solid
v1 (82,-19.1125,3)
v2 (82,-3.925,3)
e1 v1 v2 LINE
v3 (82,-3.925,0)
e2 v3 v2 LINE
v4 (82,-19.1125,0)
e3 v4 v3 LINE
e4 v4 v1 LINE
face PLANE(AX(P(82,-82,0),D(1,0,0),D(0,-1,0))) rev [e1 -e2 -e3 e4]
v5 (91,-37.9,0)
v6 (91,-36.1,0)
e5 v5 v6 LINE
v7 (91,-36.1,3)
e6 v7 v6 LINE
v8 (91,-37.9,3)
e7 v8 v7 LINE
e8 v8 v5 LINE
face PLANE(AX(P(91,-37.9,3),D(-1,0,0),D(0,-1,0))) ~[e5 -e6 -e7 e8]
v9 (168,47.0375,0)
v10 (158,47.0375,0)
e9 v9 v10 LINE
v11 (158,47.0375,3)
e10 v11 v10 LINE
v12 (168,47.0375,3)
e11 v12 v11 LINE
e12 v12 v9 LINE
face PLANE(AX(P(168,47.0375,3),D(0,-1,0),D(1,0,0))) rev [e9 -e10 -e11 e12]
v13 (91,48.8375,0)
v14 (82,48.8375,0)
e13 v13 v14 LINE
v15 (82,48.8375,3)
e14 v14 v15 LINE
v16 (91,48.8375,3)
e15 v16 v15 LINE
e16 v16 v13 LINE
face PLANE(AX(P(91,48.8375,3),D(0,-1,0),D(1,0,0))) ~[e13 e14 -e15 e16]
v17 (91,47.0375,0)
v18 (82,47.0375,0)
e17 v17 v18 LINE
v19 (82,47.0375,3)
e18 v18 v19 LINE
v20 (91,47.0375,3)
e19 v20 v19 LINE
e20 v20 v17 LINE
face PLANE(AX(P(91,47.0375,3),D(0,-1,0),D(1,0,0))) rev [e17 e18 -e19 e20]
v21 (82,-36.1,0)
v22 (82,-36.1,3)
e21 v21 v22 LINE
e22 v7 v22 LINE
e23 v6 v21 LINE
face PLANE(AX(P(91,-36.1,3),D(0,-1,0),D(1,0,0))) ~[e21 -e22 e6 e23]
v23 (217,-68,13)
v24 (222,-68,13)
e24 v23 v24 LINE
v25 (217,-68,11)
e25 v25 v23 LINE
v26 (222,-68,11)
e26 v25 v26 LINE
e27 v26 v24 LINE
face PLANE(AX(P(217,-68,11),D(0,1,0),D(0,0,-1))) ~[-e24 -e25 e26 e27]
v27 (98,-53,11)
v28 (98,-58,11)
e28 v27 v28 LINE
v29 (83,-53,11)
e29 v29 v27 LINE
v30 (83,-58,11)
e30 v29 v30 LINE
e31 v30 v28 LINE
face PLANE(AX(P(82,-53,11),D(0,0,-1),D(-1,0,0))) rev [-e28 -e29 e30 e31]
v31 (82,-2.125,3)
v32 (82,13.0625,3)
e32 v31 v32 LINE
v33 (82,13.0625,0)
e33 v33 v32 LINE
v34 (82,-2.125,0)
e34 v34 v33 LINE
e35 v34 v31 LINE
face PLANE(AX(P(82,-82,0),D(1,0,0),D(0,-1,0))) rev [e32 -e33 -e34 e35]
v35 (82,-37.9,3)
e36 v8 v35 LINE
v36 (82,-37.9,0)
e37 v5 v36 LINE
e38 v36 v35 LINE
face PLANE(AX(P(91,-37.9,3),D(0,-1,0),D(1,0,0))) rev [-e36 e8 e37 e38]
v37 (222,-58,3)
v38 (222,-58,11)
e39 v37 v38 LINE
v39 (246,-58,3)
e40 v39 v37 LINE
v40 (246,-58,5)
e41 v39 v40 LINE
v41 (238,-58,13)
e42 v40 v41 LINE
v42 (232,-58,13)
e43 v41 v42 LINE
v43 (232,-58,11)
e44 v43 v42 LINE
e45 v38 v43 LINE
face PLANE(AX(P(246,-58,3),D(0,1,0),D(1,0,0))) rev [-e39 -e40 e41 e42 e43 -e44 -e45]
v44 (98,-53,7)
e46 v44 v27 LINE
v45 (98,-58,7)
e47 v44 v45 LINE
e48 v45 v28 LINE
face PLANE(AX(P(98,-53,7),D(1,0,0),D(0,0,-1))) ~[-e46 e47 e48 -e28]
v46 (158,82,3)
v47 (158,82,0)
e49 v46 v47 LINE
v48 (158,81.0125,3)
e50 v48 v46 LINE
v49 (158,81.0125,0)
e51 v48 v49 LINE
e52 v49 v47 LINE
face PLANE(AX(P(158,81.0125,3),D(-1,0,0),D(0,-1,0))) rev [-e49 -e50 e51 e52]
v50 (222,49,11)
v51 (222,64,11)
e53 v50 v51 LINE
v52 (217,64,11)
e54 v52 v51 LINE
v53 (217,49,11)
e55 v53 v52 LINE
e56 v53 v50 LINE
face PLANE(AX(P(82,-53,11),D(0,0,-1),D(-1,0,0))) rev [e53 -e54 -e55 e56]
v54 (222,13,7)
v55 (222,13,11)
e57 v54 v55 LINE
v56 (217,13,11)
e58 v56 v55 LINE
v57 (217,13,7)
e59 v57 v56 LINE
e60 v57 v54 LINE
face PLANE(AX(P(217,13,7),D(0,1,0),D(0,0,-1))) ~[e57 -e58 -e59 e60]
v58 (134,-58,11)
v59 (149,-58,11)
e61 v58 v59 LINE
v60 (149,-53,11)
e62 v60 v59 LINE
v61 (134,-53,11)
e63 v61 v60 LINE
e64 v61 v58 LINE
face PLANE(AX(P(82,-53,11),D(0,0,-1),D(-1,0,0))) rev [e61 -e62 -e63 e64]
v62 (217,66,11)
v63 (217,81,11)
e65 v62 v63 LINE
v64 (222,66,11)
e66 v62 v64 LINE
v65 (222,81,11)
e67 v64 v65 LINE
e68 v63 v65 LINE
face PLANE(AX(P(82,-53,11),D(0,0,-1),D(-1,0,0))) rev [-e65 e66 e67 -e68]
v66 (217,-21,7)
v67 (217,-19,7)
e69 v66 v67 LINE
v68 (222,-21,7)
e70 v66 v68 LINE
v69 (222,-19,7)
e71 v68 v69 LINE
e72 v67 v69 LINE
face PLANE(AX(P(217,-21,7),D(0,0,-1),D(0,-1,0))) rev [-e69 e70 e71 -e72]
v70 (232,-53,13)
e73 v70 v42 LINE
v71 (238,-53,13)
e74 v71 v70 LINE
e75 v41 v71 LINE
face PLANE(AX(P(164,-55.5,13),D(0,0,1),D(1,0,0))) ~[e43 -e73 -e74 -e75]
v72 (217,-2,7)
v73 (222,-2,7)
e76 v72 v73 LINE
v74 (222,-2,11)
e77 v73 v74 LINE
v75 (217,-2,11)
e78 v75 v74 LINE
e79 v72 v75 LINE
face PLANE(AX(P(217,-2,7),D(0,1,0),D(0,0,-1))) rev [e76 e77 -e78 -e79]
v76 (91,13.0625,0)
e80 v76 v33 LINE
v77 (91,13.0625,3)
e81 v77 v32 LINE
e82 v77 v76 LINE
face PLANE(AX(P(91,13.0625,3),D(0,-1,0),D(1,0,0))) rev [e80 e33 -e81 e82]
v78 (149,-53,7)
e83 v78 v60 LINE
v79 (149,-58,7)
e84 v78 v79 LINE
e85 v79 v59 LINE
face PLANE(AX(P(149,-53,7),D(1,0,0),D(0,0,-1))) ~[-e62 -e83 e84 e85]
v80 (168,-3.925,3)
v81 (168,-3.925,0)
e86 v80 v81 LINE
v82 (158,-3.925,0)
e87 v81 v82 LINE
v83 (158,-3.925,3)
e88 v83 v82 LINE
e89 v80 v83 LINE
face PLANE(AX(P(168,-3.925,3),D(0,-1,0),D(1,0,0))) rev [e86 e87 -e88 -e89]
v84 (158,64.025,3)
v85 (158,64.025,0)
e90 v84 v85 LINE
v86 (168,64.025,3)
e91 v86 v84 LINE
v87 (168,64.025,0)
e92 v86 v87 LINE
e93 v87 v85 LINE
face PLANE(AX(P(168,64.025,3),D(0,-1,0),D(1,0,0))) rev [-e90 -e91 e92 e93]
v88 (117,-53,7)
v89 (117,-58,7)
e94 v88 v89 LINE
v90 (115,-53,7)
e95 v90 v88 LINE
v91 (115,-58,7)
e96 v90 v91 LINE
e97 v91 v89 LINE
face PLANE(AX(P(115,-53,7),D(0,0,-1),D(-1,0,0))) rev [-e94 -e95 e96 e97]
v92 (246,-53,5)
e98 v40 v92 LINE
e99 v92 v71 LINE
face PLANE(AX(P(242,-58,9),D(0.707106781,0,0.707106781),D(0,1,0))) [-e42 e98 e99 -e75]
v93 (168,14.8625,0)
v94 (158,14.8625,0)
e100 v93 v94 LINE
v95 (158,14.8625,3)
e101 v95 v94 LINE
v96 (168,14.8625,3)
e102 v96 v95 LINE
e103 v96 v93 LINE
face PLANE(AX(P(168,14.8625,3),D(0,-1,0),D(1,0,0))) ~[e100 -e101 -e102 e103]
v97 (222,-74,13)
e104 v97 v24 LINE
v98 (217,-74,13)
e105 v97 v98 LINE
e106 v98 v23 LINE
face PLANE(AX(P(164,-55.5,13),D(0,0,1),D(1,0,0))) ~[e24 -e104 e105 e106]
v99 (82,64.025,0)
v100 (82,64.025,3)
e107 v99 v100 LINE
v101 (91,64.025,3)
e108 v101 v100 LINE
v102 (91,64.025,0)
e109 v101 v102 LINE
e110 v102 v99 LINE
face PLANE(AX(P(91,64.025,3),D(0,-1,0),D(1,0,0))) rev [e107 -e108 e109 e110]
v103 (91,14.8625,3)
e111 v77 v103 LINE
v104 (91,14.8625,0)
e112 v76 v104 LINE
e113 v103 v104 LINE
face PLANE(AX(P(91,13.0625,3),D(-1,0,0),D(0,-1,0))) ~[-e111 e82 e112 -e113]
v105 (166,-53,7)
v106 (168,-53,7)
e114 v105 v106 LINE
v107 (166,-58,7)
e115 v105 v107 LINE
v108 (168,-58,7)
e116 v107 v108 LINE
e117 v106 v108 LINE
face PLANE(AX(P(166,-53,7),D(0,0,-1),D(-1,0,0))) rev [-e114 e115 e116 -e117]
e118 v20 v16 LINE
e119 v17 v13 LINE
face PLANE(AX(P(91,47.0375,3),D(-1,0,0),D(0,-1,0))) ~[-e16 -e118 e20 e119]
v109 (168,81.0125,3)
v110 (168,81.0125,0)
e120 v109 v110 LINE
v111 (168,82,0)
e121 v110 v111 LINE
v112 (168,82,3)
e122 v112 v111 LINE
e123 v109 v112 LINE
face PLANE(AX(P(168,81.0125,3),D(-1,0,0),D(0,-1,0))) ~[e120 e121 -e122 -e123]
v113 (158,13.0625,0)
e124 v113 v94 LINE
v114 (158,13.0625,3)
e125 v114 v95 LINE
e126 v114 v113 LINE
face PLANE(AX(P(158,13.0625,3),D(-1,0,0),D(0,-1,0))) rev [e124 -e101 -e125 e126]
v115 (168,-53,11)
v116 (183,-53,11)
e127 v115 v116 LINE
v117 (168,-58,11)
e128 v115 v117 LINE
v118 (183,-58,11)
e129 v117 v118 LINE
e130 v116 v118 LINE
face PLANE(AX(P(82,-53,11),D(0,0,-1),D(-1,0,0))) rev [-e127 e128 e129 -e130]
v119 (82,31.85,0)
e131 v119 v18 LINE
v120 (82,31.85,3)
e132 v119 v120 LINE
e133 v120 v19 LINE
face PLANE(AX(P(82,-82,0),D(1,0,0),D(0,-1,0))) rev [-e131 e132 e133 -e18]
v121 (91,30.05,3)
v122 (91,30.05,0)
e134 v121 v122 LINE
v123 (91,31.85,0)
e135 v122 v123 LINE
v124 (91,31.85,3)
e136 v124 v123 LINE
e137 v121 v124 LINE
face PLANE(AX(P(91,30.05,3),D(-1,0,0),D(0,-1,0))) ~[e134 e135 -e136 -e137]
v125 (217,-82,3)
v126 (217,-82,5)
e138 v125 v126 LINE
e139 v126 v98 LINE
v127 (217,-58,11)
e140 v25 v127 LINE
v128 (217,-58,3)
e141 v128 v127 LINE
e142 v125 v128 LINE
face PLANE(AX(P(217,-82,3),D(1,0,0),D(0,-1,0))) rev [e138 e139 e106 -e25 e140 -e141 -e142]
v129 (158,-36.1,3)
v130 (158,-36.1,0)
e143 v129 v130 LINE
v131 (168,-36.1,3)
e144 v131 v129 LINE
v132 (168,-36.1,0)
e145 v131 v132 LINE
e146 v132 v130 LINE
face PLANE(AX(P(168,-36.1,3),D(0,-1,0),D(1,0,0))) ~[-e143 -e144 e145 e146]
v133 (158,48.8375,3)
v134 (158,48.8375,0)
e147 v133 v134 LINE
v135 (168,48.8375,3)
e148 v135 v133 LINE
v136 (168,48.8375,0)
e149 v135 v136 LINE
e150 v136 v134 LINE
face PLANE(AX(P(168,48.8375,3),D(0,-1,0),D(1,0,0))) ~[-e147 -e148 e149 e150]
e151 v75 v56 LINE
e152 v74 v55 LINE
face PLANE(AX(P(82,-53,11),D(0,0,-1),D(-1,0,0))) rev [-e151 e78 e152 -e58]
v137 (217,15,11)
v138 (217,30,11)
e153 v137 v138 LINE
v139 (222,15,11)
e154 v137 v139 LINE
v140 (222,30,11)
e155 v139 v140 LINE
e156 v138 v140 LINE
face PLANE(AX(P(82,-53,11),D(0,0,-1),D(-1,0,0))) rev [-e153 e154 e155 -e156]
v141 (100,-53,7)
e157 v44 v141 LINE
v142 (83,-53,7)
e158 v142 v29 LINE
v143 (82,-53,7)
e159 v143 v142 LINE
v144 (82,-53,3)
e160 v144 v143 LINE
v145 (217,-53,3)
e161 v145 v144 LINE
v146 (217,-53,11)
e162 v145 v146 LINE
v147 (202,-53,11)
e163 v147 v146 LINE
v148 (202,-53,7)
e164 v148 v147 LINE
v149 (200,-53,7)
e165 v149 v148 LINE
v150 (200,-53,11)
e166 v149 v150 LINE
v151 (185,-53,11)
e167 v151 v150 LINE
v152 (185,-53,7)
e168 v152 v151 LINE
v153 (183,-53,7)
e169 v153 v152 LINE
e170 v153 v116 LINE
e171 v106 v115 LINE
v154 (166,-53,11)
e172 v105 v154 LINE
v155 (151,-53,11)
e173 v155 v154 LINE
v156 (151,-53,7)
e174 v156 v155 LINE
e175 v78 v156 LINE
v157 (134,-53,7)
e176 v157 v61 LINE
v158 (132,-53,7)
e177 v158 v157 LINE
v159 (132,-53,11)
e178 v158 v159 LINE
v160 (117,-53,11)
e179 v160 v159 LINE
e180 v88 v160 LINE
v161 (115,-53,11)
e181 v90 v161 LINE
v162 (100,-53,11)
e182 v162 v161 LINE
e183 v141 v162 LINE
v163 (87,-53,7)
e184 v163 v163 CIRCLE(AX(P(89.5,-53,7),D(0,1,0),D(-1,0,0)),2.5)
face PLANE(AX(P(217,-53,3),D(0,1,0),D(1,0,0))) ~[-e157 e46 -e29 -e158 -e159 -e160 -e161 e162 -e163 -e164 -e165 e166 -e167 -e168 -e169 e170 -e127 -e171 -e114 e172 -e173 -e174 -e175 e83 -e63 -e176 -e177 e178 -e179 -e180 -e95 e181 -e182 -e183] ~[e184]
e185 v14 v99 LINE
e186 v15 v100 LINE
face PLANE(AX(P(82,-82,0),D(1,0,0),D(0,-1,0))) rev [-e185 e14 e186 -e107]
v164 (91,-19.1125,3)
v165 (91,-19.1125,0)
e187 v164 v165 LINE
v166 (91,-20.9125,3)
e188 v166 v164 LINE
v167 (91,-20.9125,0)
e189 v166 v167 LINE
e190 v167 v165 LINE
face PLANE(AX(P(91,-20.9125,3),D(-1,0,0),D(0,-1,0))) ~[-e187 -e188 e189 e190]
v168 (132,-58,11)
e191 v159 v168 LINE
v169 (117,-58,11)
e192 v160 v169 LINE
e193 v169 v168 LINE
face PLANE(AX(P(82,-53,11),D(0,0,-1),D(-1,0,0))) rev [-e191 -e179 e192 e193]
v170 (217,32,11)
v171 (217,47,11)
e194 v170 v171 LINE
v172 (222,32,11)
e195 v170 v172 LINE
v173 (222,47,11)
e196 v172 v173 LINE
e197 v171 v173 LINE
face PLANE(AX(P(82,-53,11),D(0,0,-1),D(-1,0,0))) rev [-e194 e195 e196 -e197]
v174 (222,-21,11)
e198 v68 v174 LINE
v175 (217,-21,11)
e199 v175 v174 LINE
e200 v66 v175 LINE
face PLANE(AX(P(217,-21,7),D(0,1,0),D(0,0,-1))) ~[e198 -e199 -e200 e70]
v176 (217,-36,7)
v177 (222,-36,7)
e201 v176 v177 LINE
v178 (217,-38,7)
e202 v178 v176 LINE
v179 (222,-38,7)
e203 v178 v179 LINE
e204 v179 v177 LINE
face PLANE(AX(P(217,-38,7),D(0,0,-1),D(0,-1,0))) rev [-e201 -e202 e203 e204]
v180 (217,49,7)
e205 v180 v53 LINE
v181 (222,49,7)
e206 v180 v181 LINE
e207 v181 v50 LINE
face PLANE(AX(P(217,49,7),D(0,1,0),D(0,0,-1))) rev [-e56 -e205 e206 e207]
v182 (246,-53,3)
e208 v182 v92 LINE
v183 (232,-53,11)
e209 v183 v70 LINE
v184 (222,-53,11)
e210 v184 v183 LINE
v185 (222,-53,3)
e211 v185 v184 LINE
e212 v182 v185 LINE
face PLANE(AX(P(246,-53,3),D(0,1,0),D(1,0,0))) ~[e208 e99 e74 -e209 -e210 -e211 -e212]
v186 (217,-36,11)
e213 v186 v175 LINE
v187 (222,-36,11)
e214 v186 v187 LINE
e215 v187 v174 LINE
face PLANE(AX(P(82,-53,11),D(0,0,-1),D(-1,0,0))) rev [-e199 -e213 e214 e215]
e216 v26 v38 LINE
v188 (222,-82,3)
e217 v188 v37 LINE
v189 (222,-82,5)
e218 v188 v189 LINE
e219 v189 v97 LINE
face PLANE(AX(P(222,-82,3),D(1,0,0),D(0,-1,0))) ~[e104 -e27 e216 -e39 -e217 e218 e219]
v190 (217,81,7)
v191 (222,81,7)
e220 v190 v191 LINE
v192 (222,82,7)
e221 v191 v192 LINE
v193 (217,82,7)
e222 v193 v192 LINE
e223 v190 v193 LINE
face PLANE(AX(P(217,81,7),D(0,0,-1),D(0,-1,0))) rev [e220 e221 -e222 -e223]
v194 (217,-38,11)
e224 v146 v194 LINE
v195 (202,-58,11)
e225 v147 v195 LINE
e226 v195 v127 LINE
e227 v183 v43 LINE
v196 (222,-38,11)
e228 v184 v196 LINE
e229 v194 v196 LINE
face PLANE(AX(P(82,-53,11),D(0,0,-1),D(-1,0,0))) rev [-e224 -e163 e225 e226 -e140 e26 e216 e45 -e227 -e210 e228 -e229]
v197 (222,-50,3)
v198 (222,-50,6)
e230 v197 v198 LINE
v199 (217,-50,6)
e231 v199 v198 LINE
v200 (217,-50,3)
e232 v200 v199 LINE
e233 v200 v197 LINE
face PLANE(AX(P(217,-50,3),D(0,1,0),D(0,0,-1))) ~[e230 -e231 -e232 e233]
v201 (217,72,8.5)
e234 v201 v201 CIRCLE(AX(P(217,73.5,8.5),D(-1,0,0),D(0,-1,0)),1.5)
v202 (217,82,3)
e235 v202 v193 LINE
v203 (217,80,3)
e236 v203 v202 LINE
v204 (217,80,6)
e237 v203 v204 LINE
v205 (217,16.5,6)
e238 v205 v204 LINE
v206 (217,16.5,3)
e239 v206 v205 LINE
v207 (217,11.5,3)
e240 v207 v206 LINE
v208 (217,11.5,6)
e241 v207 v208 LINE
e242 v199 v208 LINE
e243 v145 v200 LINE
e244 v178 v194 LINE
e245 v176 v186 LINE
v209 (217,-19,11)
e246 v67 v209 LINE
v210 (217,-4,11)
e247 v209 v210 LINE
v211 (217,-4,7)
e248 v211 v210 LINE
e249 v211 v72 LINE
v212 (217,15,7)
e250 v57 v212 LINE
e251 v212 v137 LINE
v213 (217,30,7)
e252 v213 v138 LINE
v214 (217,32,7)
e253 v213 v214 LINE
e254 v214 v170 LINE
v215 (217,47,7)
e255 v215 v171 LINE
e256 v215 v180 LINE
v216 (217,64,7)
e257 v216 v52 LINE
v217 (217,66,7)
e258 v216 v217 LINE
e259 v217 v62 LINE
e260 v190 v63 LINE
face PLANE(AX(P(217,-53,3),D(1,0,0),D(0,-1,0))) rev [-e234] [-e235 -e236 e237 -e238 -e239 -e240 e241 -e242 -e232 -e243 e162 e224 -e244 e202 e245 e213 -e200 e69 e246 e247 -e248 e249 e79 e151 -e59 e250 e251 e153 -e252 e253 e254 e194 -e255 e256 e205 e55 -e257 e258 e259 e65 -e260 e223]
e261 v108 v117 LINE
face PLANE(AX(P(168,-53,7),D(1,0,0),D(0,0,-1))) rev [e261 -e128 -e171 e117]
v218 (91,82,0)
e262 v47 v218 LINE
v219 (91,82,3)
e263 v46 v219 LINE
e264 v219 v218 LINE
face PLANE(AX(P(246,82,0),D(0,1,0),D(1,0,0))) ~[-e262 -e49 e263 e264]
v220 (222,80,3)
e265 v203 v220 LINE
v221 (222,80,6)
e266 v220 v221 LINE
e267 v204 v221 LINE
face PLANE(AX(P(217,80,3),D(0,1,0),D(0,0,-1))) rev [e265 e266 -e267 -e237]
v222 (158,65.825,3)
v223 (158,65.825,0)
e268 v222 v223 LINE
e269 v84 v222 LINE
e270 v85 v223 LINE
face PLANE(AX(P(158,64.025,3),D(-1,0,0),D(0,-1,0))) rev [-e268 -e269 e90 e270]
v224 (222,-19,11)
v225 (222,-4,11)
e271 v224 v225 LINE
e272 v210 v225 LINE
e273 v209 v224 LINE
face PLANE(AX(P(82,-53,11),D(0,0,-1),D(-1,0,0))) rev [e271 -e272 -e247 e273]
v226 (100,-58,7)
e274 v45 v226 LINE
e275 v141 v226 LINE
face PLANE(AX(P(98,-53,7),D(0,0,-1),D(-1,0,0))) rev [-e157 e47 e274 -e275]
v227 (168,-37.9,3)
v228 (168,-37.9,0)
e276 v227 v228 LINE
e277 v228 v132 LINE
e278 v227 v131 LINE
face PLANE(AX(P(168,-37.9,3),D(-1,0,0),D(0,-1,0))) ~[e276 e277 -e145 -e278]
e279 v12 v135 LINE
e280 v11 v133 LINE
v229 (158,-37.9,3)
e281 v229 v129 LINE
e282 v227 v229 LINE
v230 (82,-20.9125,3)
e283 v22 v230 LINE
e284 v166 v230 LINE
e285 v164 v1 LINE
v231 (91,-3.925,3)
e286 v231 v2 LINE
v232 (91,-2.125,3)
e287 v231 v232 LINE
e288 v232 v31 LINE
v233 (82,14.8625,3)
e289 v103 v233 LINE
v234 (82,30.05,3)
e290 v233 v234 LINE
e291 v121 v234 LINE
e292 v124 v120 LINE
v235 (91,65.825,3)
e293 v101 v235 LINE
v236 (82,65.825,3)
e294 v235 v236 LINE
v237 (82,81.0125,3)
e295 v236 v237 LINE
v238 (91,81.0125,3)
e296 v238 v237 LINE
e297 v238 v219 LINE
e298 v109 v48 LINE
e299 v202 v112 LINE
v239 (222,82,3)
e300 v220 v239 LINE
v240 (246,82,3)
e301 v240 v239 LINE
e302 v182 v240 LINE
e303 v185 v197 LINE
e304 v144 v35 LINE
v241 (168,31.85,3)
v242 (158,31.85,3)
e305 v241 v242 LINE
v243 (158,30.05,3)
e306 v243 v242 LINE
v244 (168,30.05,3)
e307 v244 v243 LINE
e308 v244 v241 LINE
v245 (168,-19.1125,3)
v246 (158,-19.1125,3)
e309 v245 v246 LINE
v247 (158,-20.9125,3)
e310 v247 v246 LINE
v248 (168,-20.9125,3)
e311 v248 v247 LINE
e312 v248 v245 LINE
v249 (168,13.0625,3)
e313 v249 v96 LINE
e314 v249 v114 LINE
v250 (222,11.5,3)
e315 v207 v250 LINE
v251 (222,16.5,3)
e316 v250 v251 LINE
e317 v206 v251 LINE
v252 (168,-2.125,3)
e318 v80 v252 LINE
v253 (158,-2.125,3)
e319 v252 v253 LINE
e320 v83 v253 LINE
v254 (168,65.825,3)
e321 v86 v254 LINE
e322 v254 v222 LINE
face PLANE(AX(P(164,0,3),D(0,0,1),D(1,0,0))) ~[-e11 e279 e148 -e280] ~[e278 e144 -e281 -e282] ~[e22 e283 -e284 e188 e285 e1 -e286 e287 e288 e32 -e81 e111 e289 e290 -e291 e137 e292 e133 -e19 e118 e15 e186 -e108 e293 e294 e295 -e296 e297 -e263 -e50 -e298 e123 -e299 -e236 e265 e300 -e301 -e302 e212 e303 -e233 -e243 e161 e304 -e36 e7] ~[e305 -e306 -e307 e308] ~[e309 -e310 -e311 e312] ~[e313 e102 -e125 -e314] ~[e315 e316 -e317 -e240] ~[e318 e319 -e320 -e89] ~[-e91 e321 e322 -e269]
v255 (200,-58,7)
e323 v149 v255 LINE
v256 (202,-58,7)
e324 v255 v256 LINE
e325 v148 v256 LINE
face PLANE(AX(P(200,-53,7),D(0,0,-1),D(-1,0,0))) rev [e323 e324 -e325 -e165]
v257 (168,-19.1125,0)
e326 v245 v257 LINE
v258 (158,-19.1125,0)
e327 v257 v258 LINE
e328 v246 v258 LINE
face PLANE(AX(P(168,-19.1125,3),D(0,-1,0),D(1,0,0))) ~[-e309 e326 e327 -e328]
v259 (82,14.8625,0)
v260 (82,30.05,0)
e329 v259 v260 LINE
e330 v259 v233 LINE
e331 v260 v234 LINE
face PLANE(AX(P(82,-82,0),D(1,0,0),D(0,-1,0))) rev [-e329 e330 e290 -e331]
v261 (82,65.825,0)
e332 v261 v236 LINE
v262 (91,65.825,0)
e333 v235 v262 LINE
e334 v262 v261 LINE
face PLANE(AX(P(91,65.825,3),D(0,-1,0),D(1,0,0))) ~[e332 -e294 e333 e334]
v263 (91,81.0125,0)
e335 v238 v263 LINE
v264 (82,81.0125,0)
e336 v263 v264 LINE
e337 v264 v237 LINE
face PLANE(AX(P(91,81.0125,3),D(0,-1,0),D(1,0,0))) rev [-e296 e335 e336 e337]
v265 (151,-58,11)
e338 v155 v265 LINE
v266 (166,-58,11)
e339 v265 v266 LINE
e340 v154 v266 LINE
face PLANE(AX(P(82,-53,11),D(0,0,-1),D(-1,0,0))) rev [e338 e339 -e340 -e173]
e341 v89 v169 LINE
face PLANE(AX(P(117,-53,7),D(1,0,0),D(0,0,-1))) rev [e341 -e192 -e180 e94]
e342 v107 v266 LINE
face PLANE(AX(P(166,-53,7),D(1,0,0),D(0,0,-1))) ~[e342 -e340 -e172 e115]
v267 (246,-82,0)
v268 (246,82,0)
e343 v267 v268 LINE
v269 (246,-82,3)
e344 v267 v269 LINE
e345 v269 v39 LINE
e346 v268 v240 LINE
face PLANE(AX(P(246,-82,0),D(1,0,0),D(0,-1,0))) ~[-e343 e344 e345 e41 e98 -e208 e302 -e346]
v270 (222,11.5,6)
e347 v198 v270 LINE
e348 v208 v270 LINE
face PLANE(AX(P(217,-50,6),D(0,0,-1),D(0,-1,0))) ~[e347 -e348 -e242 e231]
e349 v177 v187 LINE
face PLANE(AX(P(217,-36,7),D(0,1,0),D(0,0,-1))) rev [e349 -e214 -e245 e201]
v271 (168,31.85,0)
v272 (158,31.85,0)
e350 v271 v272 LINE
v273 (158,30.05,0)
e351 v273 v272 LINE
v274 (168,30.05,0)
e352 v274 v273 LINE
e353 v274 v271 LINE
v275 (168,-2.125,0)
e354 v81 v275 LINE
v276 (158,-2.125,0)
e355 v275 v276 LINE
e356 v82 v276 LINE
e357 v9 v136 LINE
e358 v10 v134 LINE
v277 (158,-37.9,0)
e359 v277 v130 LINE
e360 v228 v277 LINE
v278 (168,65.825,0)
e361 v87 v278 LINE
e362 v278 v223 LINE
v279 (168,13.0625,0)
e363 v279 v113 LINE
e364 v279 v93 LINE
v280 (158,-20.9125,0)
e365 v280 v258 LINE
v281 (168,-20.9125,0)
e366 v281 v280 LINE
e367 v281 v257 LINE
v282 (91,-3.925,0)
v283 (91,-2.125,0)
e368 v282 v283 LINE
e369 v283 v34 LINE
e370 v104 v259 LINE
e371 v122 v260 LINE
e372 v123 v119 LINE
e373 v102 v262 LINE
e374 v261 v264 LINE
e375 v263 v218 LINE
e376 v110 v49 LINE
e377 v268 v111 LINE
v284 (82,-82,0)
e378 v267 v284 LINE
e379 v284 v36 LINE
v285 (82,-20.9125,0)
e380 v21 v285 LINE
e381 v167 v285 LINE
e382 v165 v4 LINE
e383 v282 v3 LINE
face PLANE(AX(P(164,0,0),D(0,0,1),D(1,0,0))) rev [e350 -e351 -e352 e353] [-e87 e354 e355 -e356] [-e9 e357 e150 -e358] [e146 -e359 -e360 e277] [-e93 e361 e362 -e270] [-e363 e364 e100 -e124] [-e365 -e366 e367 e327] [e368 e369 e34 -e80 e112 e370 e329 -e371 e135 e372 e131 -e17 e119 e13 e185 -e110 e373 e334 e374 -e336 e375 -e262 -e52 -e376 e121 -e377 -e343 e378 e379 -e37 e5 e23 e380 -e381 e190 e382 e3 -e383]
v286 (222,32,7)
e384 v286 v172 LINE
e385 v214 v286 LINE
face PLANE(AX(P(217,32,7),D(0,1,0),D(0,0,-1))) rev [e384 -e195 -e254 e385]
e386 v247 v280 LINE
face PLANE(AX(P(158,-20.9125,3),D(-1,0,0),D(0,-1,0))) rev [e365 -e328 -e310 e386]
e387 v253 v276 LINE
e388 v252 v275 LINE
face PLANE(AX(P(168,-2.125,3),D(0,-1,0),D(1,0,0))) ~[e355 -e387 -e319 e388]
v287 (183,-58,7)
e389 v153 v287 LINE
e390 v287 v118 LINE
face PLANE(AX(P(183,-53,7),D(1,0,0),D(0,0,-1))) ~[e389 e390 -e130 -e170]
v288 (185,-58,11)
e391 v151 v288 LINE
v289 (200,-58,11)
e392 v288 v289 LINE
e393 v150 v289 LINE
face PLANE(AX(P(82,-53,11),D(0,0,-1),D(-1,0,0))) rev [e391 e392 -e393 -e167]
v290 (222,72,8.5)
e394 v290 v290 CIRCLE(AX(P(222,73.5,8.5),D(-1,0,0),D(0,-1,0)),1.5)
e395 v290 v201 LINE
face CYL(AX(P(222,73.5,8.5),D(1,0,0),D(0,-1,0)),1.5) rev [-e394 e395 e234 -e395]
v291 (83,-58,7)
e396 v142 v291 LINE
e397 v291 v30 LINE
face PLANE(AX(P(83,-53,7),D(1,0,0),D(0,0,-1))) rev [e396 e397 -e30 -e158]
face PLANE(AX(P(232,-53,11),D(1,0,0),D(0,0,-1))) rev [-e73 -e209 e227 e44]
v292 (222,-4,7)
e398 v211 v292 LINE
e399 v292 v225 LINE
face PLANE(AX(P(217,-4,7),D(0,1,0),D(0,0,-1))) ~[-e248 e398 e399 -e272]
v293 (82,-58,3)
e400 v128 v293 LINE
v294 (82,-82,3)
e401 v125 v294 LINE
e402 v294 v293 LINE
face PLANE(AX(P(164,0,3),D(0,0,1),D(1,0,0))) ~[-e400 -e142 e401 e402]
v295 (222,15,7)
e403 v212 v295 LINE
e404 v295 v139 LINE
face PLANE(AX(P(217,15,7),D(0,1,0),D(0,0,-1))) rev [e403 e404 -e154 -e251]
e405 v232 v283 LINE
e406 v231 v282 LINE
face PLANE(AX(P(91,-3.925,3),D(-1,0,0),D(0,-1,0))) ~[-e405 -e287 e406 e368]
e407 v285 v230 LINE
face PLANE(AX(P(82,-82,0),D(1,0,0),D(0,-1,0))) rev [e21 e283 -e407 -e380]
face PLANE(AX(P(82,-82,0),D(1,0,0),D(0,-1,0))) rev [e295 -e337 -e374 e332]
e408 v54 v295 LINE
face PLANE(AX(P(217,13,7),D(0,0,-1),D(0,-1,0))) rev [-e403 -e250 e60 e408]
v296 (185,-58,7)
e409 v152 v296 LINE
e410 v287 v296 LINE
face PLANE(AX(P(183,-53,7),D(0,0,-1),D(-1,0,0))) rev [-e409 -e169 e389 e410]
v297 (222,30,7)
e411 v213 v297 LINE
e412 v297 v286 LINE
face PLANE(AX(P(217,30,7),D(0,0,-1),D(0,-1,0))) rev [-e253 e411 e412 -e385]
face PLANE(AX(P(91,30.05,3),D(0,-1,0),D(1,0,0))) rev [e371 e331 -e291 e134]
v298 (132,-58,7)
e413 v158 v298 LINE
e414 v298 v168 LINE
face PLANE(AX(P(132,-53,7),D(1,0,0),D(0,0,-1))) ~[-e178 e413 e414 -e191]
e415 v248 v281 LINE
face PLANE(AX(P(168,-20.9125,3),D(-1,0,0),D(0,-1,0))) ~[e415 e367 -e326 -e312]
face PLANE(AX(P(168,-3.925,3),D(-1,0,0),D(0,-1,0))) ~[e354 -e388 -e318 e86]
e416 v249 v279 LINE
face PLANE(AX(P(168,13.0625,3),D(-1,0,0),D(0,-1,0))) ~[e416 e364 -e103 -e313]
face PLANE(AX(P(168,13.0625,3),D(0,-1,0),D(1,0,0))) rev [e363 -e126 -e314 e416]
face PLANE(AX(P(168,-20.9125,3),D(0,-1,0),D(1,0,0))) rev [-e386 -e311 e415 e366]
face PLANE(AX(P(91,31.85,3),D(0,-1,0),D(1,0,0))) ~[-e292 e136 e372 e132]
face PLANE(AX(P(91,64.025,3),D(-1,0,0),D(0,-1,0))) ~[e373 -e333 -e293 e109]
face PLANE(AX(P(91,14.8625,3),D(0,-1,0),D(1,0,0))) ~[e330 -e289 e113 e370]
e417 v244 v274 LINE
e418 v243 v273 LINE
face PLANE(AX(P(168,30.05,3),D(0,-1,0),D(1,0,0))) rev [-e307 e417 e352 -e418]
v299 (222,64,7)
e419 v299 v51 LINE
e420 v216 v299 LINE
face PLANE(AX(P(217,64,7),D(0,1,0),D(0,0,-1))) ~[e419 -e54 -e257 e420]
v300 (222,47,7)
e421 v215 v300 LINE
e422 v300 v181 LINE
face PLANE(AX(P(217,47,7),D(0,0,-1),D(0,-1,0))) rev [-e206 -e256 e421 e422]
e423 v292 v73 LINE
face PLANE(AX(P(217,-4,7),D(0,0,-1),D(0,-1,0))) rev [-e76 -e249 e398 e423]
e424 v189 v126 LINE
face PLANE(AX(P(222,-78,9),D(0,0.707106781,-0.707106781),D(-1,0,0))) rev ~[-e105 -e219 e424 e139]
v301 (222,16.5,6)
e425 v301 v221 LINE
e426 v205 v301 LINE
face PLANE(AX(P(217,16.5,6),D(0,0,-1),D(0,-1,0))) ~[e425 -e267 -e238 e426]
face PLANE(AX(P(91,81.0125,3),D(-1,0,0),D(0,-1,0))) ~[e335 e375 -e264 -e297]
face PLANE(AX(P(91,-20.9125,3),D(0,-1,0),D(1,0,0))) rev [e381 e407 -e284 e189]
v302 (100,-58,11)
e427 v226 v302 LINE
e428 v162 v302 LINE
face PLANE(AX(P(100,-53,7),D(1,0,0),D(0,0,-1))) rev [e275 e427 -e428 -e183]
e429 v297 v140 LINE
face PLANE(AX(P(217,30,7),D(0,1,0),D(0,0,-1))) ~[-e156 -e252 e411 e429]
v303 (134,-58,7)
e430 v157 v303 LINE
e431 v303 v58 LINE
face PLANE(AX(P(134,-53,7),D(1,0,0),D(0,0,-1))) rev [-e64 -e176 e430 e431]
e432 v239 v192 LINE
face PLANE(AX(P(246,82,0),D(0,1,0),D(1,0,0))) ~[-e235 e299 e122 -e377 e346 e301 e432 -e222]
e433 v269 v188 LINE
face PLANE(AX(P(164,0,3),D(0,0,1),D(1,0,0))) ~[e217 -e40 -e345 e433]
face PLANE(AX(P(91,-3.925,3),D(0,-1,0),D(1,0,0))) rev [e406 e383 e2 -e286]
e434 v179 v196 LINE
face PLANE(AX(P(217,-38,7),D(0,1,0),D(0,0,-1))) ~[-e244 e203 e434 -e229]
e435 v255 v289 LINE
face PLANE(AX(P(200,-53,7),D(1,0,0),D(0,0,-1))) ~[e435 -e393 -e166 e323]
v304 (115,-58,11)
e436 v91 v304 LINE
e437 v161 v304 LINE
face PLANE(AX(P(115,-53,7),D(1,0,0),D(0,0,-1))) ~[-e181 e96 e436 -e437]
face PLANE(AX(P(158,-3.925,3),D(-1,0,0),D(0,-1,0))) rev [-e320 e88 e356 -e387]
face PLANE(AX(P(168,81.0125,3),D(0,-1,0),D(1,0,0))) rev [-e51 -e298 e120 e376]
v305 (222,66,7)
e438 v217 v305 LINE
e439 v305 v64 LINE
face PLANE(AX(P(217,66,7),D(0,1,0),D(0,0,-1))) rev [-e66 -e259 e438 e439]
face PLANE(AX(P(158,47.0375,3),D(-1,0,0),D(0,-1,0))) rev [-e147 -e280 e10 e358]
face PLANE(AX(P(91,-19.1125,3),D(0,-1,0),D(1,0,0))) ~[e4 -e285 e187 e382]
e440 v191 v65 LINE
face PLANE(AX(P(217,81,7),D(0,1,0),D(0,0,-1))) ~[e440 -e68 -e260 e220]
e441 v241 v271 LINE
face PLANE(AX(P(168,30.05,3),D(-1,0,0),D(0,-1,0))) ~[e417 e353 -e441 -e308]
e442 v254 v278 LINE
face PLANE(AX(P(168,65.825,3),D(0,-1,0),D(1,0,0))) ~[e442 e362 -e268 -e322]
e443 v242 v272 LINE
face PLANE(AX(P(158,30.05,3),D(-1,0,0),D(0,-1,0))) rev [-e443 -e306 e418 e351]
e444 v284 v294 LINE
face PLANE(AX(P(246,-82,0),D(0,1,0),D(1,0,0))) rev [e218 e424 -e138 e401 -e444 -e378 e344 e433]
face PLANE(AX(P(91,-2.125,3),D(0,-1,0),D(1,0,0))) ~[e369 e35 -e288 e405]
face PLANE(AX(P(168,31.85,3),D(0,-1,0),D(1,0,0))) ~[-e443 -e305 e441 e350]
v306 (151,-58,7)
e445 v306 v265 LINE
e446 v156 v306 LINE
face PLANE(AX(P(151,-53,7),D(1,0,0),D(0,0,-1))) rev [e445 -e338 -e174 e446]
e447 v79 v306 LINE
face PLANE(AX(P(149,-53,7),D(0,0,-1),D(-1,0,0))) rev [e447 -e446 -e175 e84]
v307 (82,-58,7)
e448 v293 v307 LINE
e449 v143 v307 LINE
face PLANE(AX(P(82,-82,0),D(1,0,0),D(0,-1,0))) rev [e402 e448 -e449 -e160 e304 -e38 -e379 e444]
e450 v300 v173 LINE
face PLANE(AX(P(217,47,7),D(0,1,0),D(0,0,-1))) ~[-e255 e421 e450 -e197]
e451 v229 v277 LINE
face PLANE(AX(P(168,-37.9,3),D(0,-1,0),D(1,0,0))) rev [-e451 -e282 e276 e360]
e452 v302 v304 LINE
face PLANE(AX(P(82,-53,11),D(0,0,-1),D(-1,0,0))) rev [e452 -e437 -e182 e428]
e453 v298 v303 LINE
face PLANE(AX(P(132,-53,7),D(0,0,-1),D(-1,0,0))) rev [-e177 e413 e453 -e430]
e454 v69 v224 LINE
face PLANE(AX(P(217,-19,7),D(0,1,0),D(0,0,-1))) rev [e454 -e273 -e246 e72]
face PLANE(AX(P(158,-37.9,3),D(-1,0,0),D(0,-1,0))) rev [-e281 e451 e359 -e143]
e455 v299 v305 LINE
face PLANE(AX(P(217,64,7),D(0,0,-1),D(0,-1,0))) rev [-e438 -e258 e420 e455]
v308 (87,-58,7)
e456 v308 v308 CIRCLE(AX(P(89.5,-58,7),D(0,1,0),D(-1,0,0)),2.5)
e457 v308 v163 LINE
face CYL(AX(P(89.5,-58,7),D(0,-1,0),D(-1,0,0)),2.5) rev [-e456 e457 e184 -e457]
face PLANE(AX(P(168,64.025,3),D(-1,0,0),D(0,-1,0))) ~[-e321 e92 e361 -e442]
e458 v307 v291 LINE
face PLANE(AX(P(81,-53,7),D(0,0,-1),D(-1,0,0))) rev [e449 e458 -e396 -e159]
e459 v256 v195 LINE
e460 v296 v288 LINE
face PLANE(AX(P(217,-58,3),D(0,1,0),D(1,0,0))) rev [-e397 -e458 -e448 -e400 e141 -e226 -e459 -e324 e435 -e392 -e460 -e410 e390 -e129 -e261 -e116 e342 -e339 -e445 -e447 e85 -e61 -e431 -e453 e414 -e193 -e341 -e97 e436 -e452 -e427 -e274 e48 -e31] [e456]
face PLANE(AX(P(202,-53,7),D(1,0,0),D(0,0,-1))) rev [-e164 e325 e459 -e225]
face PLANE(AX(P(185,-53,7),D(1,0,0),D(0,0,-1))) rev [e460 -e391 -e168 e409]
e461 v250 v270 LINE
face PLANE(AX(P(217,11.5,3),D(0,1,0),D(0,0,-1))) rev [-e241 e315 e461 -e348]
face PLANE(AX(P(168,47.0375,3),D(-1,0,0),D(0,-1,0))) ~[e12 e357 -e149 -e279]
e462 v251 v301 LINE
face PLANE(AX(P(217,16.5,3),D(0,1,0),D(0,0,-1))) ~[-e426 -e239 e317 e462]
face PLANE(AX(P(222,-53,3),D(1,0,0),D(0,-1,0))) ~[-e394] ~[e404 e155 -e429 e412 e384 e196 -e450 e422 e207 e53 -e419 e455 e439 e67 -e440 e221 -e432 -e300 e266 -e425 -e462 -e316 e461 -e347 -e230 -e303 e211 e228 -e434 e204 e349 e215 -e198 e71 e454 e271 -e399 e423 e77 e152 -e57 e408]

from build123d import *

# Parameters (mm, degrees)
SKETCH_W                           = 164
SKETCH_H                           = 164
PAD_DEPTH                          = 3
SKETCH001_W                        = 164
SKETCH001_H                        = 5
SKETCH001_W_2                      = 5
SKETCH001_H_2                      = 164
PAD001_DEPTH                       = 10
SKETCH005_W                        = 150
SKETCH005_H                        = 2
POCKET_DEPTH                       = 5
SKETCH006_W                        = 150
SKETCH006_H                        = 2
POCKET001_DEPTH                    = 5
SKETCH007_W                        = 2
SKETCH007_H                        = 4
POCKET002_DEPTH                    = 5
LINEARPATTERN_COUNT                = 9
LINEARPATTERN_PITCH                = 17
SKETCH008_W                        = 61.5
SKETCH008_H                        = 3
SKETCH008_W_2                      = 63.5
POCKET003_DEPTH                    = 5
SKETCH009_W                        = 2
SKETCH009_H                        = 4
POCKET004_DEPTH                    = 5
LINEARPATTERN001_COUNT             = 9
LINEARPATTERN001_PITCH             = 17
SKETCH010_W                        = 10
SKETCH010_H                        = 1.8
POCKET005_DEPTH                    = 5
SKETCH010_LINEARPATTERN002_2_W     = 10
SKETCH010_LINEARPATTERN002_2_H     = 1.8
POCKET005_LINEARPATTERN002_2_DEPTH = 5
SKETCH010_LINEARPATTERN002_3_W     = 10
SKETCH010_LINEARPATTERN002_3_H     = 1.8
POCKET005_LINEARPATTERN002_3_DEPTH = 5
SKETCH010_LINEARPATTERN002_4_W     = 10
SKETCH010_LINEARPATTERN002_4_H     = 1.8
POCKET005_LINEARPATTERN002_4_DEPTH = 5
SKETCH010_LINEARPATTERN002_5_W     = 10
SKETCH010_LINEARPATTERN002_5_H     = 1.8
POCKET005_LINEARPATTERN002_5_DEPTH = 5
SKETCH010_LINEARPATTERN002_6_W     = 10
SKETCH010_LINEARPATTERN002_6_H     = 1.8
POCKET005_LINEARPATTERN002_6_DEPTH = 5
SKETCH010_LINEARPATTERN002_7_W     = 10
SKETCH010_LINEARPATTERN002_7_H     = 1.8
POCKET005_LINEARPATTERN002_7_DEPTH = 5
SKETCH010_LINEARPATTERN002_8_W     = 10
SKETCH010_LINEARPATTERN002_8_H     = 1.8
POCKET005_LINEARPATTERN002_8_DEPTH = 5
SKETCH010_LINEARPATTERN002_9_W     = 10
SKETCH010_LINEARPATTERN002_9_H     = 1.8
POCKET005_LINEARPATTERN002_9_DEPTH = 5
LINEARPATTERN003_COUNT             = 2
LINEARPATTERN003_PITCH             = 77
SKETCH011_R                        = 2.5
POCKET006_DEPTH                    = 5
SKETCH012_R                        = 1.5
POCKET007_DEPTH                    = 5
CHAMFER_SIZE                       = 8


with BuildPart() as lb_plate:
    # Sketch → Pad (new body)
    with BuildSketch(Plane.XY):
        Rectangle(SKETCH_W, SKETCH_H)
    extrude(amount=PAD_DEPTH)

    # Sketch001 (on Face6 of Pad) → Pad001 (join)
    with BuildSketch(Plane.XY.offset(3)):
        with Locations((0, -55.5)):
            Rectangle(SKETCH001_W, SKETCH001_H)
        with Locations((-55.5, 0)):
            Rectangle(SKETCH001_W_2, SKETCH001_H_2)
    extrude(amount=PAD001_DEPTH)

    # Sketch005 → Pocket (cut)
    with BuildSketch(Plane(origin=(0, -53, 0), x_dir=(-1, 0, 0), z_dir=(0, 1, 0))):
        with Locations((-7, 12)):
            Rectangle(SKETCH005_W, SKETCH005_H)
    extrude(amount=-POCKET_DEPTH, mode=Mode.SUBTRACT)

    # Sketch006 (on Face15 of Pocket) → Pocket001 (cut)
    with BuildSketch(Plane.YZ.offset(-53)):
        with Locations((7, 12)):
            Rectangle(SKETCH006_W, SKETCH006_H)
    extrude(amount=-POCKET001_DEPTH, mode=Mode.SUBTRACT)

    # Sketch007 (on Face16 of Pocket001) → Pocket002 (cut)
    with BuildSketch(Plane.YZ.offset(-53)):
        with Locations((-37, 9)):
            Rectangle(SKETCH007_W, SKETCH007_H)
    pocket002 = extrude(amount=-POCKET002_DEPTH, mode=Mode.SUBTRACT)

    # LinearPattern: Pocket002 ×9
    with Locations(*[(0, i * LINEARPATTERN_PITCH, 0) for i in range(1, LINEARPATTERN_COUNT)]):
        add(pocket002, mode=Mode.SUBTRACT)

    # Sketch008 (on Face16 of LinearPattern) → Pocket003 (cut)
    with BuildSketch(Plane.YZ.offset(-53)):
        with Locations((-19.25, 4.5)):
            Rectangle(SKETCH008_W, SKETCH008_H)
        with Locations((48.25, 4.5)):
            Rectangle(SKETCH008_W_2, SKETCH008_H)
    extrude(amount=-POCKET003_DEPTH, mode=Mode.SUBTRACT)

    # Sketch009 (on Face19 of Pocket003) → Pocket004 (cut)
    with BuildSketch(Plane(origin=(0, -53, 0), x_dir=(-1, 0, 0), z_dir=(0, 1, 0))):
        with Locations((37, 9)):
            Rectangle(SKETCH009_W, SKETCH009_H)
    pocket004 = extrude(amount=-POCKET004_DEPTH, mode=Mode.SUBTRACT)

    # LinearPattern001: Pocket004 ×9
    with Locations(*[(i * LINEARPATTERN001_PITCH, 0, 0) for i in range(1, LINEARPATTERN001_COUNT)]):
        add(pocket004, mode=Mode.SUBTRACT)

    # Sketch010 (on Face7 of Pocket004) → Pocket005 (cut)
    with BuildSketch(Plane.XY.offset(3)):
        with Locations((1, -37)):
            Rectangle(SKETCH010_W, SKETCH010_H)
    pocket005 = extrude(amount=-POCKET005_DEPTH, mode=Mode.SUBTRACT)

    # Sketch010 LinearPattern002 2 → Pocket005 LinearPattern002 2 (cut)
    with BuildSketch(Plane(origin=(0, 16.9875, 3), x_dir=(1, 0, 0), z_dir=(0, 0, 1))):
        with Locations((1, -37)):
            Rectangle(SKETCH010_LINEARPATTERN002_2_W, SKETCH010_LINEARPATTERN002_2_H)
    pocket005_linearpattern002_2 = extrude(amount=-POCKET005_LINEARPATTERN002_2_DEPTH, mode=Mode.SUBTRACT)

    # Sketch010 LinearPattern002 3 → Pocket005 LinearPattern002 3 (cut)
    with BuildSketch(Plane(origin=(0, 33.975, 3), x_dir=(1, 0, 0), z_dir=(0, 0, 1))):
        with Locations((1, -37)):
            Rectangle(SKETCH010_LINEARPATTERN002_3_W, SKETCH010_LINEARPATTERN002_3_H)
    pocket005_linearpattern002_3 = extrude(amount=-POCKET005_LINEARPATTERN002_3_DEPTH, mode=Mode.SUBTRACT)

    # Sketch010 LinearPattern002 4 → Pocket005 LinearPattern002 4 (cut)
    with BuildSketch(Plane(origin=(0, 50.9625, 3), x_dir=(1, 0, 0), z_dir=(0, 0, 1))):
        with Locations((1, -37)):
            Rectangle(SKETCH010_LINEARPATTERN002_4_W, SKETCH010_LINEARPATTERN002_4_H)
    pocket005_linearpattern002_4 = extrude(amount=-POCKET005_LINEARPATTERN002_4_DEPTH, mode=Mode.SUBTRACT)

    # Sketch010 LinearPattern002 5 → Pocket005 LinearPattern002 5 (cut)
    with BuildSketch(Plane(origin=(0, 67.95, 3), x_dir=(1, 0, 0), z_dir=(0, 0, 1))):
        with Locations((1, -37)):
            Rectangle(SKETCH010_LINEARPATTERN002_5_W, SKETCH010_LINEARPATTERN002_5_H)
    pocket005_linearpattern002_5 = extrude(amount=-POCKET005_LINEARPATTERN002_5_DEPTH, mode=Mode.SUBTRACT)

    # Sketch010 LinearPattern002 6 → Pocket005 LinearPattern002 6 (cut)
    with BuildSketch(Plane(origin=(0, 84.9375, 3), x_dir=(1, 0, 0), z_dir=(0, 0, 1))):
        with Locations((1, -37)):
            Rectangle(SKETCH010_LINEARPATTERN002_6_W, SKETCH010_LINEARPATTERN002_6_H)
    pocket005_linearpattern002_6 = extrude(amount=-POCKET005_LINEARPATTERN002_6_DEPTH, mode=Mode.SUBTRACT)

    # Sketch010 LinearPattern002 7 → Pocket005 LinearPattern002 7 (cut)
    with BuildSketch(Plane(origin=(0, 101.925, 3), x_dir=(1, 0, 0), z_dir=(0, 0, 1))):
        with Locations((1, -37)):
            Rectangle(SKETCH010_LINEARPATTERN002_7_W, SKETCH010_LINEARPATTERN002_7_H)
    pocket005_linearpattern002_7 = extrude(amount=-POCKET005_LINEARPATTERN002_7_DEPTH, mode=Mode.SUBTRACT)

    # Sketch010 LinearPattern002 8 → Pocket005 LinearPattern002 8 (cut)
    with BuildSketch(Plane(origin=(0, 118.9125, 3), x_dir=(1, 0, 0), z_dir=(0, 0, 1))):
        with Locations((1, -37)):
            Rectangle(SKETCH010_LINEARPATTERN002_8_W, SKETCH010_LINEARPATTERN002_8_H)
    pocket005_linearpattern002_8 = extrude(amount=-POCKET005_LINEARPATTERN002_8_DEPTH, mode=Mode.SUBTRACT)

    # Sketch010 LinearPattern002 9 → Pocket005 LinearPattern002 9 (cut)
    with BuildSketch(Plane(origin=(0, 135.9, 3), x_dir=(1, 0, 0), z_dir=(0, 0, 1))):
        with Locations((1, -37)):
            Rectangle(SKETCH010_LINEARPATTERN002_9_W, SKETCH010_LINEARPATTERN002_9_H)
    pocket005_linearpattern002_9 = extrude(amount=-POCKET005_LINEARPATTERN002_9_DEPTH, mode=Mode.SUBTRACT)

    # LinearPattern003: Pocket005, Pocket005 LinearPattern002 2, Pocket005 LinearPattern002 3, Pocket005 LinearPattern002 4, Pocket005 LinearPattern002 5, Pocket005 LinearPattern002 6, Pocket005 LinearPattern002 7, Pocket005 LinearPattern002 8, Pocket005 LinearPattern002 9 ×2
    with Locations(*[(i * LINEARPATTERN003_PITCH, 0, 0) for i in range(1, LINEARPATTERN003_COUNT)]):
        add(pocket005, mode=Mode.SUBTRACT)
        add(pocket005_linearpattern002_2, mode=Mode.SUBTRACT)
        add(pocket005_linearpattern002_3, mode=Mode.SUBTRACT)
        add(pocket005_linearpattern002_4, mode=Mode.SUBTRACT)
        add(pocket005_linearpattern002_5, mode=Mode.SUBTRACT)
        add(pocket005_linearpattern002_6, mode=Mode.SUBTRACT)
        add(pocket005_linearpattern002_7, mode=Mode.SUBTRACT)
        add(pocket005_linearpattern002_8, mode=Mode.SUBTRACT)
        add(pocket005_linearpattern002_9, mode=Mode.SUBTRACT)

    # Sketch011 (on Face155 of MultiTransform) → Pocket006 (cut)
    with BuildSketch(Plane.XZ.offset(58)):
        with Locations((74.5, 7)):
            Circle(SKETCH011_R)
    extrude(amount=-POCKET006_DEPTH, mode=Mode.SUBTRACT)

    # Sketch012 (on Face75 of Pocket006) → Pocket007 (cut)
    with BuildSketch(Plane(origin=(-58, 0, 0), x_dir=(0, -1, 0), z_dir=(-1, 0, 0))):
        with Locations((-73.5, 8.5)):
            Circle(SKETCH012_R)
    extrude(amount=-POCKET007_DEPTH, mode=Mode.SUBTRACT)

    # Chamfer
    chamfer_edges = [lb_plate.edges().sort_by_distance(p)[0] for p in [
        (-82, -55.5, 13),
        (-55.5, -82, 13),
    ]]
    chamfer(chamfer_edges, length=CHAMFER_SIZE)


with BuildPart() as part_mirroring:
    # Part__Mirroring: instance of LB_plate
    add(lb_plate.part.mirror(Plane(origin=(82, 0, 0), x_dir=(0, -1, 0), z_dir=(1, 0, 0))))


solid = part_mirroring.part
